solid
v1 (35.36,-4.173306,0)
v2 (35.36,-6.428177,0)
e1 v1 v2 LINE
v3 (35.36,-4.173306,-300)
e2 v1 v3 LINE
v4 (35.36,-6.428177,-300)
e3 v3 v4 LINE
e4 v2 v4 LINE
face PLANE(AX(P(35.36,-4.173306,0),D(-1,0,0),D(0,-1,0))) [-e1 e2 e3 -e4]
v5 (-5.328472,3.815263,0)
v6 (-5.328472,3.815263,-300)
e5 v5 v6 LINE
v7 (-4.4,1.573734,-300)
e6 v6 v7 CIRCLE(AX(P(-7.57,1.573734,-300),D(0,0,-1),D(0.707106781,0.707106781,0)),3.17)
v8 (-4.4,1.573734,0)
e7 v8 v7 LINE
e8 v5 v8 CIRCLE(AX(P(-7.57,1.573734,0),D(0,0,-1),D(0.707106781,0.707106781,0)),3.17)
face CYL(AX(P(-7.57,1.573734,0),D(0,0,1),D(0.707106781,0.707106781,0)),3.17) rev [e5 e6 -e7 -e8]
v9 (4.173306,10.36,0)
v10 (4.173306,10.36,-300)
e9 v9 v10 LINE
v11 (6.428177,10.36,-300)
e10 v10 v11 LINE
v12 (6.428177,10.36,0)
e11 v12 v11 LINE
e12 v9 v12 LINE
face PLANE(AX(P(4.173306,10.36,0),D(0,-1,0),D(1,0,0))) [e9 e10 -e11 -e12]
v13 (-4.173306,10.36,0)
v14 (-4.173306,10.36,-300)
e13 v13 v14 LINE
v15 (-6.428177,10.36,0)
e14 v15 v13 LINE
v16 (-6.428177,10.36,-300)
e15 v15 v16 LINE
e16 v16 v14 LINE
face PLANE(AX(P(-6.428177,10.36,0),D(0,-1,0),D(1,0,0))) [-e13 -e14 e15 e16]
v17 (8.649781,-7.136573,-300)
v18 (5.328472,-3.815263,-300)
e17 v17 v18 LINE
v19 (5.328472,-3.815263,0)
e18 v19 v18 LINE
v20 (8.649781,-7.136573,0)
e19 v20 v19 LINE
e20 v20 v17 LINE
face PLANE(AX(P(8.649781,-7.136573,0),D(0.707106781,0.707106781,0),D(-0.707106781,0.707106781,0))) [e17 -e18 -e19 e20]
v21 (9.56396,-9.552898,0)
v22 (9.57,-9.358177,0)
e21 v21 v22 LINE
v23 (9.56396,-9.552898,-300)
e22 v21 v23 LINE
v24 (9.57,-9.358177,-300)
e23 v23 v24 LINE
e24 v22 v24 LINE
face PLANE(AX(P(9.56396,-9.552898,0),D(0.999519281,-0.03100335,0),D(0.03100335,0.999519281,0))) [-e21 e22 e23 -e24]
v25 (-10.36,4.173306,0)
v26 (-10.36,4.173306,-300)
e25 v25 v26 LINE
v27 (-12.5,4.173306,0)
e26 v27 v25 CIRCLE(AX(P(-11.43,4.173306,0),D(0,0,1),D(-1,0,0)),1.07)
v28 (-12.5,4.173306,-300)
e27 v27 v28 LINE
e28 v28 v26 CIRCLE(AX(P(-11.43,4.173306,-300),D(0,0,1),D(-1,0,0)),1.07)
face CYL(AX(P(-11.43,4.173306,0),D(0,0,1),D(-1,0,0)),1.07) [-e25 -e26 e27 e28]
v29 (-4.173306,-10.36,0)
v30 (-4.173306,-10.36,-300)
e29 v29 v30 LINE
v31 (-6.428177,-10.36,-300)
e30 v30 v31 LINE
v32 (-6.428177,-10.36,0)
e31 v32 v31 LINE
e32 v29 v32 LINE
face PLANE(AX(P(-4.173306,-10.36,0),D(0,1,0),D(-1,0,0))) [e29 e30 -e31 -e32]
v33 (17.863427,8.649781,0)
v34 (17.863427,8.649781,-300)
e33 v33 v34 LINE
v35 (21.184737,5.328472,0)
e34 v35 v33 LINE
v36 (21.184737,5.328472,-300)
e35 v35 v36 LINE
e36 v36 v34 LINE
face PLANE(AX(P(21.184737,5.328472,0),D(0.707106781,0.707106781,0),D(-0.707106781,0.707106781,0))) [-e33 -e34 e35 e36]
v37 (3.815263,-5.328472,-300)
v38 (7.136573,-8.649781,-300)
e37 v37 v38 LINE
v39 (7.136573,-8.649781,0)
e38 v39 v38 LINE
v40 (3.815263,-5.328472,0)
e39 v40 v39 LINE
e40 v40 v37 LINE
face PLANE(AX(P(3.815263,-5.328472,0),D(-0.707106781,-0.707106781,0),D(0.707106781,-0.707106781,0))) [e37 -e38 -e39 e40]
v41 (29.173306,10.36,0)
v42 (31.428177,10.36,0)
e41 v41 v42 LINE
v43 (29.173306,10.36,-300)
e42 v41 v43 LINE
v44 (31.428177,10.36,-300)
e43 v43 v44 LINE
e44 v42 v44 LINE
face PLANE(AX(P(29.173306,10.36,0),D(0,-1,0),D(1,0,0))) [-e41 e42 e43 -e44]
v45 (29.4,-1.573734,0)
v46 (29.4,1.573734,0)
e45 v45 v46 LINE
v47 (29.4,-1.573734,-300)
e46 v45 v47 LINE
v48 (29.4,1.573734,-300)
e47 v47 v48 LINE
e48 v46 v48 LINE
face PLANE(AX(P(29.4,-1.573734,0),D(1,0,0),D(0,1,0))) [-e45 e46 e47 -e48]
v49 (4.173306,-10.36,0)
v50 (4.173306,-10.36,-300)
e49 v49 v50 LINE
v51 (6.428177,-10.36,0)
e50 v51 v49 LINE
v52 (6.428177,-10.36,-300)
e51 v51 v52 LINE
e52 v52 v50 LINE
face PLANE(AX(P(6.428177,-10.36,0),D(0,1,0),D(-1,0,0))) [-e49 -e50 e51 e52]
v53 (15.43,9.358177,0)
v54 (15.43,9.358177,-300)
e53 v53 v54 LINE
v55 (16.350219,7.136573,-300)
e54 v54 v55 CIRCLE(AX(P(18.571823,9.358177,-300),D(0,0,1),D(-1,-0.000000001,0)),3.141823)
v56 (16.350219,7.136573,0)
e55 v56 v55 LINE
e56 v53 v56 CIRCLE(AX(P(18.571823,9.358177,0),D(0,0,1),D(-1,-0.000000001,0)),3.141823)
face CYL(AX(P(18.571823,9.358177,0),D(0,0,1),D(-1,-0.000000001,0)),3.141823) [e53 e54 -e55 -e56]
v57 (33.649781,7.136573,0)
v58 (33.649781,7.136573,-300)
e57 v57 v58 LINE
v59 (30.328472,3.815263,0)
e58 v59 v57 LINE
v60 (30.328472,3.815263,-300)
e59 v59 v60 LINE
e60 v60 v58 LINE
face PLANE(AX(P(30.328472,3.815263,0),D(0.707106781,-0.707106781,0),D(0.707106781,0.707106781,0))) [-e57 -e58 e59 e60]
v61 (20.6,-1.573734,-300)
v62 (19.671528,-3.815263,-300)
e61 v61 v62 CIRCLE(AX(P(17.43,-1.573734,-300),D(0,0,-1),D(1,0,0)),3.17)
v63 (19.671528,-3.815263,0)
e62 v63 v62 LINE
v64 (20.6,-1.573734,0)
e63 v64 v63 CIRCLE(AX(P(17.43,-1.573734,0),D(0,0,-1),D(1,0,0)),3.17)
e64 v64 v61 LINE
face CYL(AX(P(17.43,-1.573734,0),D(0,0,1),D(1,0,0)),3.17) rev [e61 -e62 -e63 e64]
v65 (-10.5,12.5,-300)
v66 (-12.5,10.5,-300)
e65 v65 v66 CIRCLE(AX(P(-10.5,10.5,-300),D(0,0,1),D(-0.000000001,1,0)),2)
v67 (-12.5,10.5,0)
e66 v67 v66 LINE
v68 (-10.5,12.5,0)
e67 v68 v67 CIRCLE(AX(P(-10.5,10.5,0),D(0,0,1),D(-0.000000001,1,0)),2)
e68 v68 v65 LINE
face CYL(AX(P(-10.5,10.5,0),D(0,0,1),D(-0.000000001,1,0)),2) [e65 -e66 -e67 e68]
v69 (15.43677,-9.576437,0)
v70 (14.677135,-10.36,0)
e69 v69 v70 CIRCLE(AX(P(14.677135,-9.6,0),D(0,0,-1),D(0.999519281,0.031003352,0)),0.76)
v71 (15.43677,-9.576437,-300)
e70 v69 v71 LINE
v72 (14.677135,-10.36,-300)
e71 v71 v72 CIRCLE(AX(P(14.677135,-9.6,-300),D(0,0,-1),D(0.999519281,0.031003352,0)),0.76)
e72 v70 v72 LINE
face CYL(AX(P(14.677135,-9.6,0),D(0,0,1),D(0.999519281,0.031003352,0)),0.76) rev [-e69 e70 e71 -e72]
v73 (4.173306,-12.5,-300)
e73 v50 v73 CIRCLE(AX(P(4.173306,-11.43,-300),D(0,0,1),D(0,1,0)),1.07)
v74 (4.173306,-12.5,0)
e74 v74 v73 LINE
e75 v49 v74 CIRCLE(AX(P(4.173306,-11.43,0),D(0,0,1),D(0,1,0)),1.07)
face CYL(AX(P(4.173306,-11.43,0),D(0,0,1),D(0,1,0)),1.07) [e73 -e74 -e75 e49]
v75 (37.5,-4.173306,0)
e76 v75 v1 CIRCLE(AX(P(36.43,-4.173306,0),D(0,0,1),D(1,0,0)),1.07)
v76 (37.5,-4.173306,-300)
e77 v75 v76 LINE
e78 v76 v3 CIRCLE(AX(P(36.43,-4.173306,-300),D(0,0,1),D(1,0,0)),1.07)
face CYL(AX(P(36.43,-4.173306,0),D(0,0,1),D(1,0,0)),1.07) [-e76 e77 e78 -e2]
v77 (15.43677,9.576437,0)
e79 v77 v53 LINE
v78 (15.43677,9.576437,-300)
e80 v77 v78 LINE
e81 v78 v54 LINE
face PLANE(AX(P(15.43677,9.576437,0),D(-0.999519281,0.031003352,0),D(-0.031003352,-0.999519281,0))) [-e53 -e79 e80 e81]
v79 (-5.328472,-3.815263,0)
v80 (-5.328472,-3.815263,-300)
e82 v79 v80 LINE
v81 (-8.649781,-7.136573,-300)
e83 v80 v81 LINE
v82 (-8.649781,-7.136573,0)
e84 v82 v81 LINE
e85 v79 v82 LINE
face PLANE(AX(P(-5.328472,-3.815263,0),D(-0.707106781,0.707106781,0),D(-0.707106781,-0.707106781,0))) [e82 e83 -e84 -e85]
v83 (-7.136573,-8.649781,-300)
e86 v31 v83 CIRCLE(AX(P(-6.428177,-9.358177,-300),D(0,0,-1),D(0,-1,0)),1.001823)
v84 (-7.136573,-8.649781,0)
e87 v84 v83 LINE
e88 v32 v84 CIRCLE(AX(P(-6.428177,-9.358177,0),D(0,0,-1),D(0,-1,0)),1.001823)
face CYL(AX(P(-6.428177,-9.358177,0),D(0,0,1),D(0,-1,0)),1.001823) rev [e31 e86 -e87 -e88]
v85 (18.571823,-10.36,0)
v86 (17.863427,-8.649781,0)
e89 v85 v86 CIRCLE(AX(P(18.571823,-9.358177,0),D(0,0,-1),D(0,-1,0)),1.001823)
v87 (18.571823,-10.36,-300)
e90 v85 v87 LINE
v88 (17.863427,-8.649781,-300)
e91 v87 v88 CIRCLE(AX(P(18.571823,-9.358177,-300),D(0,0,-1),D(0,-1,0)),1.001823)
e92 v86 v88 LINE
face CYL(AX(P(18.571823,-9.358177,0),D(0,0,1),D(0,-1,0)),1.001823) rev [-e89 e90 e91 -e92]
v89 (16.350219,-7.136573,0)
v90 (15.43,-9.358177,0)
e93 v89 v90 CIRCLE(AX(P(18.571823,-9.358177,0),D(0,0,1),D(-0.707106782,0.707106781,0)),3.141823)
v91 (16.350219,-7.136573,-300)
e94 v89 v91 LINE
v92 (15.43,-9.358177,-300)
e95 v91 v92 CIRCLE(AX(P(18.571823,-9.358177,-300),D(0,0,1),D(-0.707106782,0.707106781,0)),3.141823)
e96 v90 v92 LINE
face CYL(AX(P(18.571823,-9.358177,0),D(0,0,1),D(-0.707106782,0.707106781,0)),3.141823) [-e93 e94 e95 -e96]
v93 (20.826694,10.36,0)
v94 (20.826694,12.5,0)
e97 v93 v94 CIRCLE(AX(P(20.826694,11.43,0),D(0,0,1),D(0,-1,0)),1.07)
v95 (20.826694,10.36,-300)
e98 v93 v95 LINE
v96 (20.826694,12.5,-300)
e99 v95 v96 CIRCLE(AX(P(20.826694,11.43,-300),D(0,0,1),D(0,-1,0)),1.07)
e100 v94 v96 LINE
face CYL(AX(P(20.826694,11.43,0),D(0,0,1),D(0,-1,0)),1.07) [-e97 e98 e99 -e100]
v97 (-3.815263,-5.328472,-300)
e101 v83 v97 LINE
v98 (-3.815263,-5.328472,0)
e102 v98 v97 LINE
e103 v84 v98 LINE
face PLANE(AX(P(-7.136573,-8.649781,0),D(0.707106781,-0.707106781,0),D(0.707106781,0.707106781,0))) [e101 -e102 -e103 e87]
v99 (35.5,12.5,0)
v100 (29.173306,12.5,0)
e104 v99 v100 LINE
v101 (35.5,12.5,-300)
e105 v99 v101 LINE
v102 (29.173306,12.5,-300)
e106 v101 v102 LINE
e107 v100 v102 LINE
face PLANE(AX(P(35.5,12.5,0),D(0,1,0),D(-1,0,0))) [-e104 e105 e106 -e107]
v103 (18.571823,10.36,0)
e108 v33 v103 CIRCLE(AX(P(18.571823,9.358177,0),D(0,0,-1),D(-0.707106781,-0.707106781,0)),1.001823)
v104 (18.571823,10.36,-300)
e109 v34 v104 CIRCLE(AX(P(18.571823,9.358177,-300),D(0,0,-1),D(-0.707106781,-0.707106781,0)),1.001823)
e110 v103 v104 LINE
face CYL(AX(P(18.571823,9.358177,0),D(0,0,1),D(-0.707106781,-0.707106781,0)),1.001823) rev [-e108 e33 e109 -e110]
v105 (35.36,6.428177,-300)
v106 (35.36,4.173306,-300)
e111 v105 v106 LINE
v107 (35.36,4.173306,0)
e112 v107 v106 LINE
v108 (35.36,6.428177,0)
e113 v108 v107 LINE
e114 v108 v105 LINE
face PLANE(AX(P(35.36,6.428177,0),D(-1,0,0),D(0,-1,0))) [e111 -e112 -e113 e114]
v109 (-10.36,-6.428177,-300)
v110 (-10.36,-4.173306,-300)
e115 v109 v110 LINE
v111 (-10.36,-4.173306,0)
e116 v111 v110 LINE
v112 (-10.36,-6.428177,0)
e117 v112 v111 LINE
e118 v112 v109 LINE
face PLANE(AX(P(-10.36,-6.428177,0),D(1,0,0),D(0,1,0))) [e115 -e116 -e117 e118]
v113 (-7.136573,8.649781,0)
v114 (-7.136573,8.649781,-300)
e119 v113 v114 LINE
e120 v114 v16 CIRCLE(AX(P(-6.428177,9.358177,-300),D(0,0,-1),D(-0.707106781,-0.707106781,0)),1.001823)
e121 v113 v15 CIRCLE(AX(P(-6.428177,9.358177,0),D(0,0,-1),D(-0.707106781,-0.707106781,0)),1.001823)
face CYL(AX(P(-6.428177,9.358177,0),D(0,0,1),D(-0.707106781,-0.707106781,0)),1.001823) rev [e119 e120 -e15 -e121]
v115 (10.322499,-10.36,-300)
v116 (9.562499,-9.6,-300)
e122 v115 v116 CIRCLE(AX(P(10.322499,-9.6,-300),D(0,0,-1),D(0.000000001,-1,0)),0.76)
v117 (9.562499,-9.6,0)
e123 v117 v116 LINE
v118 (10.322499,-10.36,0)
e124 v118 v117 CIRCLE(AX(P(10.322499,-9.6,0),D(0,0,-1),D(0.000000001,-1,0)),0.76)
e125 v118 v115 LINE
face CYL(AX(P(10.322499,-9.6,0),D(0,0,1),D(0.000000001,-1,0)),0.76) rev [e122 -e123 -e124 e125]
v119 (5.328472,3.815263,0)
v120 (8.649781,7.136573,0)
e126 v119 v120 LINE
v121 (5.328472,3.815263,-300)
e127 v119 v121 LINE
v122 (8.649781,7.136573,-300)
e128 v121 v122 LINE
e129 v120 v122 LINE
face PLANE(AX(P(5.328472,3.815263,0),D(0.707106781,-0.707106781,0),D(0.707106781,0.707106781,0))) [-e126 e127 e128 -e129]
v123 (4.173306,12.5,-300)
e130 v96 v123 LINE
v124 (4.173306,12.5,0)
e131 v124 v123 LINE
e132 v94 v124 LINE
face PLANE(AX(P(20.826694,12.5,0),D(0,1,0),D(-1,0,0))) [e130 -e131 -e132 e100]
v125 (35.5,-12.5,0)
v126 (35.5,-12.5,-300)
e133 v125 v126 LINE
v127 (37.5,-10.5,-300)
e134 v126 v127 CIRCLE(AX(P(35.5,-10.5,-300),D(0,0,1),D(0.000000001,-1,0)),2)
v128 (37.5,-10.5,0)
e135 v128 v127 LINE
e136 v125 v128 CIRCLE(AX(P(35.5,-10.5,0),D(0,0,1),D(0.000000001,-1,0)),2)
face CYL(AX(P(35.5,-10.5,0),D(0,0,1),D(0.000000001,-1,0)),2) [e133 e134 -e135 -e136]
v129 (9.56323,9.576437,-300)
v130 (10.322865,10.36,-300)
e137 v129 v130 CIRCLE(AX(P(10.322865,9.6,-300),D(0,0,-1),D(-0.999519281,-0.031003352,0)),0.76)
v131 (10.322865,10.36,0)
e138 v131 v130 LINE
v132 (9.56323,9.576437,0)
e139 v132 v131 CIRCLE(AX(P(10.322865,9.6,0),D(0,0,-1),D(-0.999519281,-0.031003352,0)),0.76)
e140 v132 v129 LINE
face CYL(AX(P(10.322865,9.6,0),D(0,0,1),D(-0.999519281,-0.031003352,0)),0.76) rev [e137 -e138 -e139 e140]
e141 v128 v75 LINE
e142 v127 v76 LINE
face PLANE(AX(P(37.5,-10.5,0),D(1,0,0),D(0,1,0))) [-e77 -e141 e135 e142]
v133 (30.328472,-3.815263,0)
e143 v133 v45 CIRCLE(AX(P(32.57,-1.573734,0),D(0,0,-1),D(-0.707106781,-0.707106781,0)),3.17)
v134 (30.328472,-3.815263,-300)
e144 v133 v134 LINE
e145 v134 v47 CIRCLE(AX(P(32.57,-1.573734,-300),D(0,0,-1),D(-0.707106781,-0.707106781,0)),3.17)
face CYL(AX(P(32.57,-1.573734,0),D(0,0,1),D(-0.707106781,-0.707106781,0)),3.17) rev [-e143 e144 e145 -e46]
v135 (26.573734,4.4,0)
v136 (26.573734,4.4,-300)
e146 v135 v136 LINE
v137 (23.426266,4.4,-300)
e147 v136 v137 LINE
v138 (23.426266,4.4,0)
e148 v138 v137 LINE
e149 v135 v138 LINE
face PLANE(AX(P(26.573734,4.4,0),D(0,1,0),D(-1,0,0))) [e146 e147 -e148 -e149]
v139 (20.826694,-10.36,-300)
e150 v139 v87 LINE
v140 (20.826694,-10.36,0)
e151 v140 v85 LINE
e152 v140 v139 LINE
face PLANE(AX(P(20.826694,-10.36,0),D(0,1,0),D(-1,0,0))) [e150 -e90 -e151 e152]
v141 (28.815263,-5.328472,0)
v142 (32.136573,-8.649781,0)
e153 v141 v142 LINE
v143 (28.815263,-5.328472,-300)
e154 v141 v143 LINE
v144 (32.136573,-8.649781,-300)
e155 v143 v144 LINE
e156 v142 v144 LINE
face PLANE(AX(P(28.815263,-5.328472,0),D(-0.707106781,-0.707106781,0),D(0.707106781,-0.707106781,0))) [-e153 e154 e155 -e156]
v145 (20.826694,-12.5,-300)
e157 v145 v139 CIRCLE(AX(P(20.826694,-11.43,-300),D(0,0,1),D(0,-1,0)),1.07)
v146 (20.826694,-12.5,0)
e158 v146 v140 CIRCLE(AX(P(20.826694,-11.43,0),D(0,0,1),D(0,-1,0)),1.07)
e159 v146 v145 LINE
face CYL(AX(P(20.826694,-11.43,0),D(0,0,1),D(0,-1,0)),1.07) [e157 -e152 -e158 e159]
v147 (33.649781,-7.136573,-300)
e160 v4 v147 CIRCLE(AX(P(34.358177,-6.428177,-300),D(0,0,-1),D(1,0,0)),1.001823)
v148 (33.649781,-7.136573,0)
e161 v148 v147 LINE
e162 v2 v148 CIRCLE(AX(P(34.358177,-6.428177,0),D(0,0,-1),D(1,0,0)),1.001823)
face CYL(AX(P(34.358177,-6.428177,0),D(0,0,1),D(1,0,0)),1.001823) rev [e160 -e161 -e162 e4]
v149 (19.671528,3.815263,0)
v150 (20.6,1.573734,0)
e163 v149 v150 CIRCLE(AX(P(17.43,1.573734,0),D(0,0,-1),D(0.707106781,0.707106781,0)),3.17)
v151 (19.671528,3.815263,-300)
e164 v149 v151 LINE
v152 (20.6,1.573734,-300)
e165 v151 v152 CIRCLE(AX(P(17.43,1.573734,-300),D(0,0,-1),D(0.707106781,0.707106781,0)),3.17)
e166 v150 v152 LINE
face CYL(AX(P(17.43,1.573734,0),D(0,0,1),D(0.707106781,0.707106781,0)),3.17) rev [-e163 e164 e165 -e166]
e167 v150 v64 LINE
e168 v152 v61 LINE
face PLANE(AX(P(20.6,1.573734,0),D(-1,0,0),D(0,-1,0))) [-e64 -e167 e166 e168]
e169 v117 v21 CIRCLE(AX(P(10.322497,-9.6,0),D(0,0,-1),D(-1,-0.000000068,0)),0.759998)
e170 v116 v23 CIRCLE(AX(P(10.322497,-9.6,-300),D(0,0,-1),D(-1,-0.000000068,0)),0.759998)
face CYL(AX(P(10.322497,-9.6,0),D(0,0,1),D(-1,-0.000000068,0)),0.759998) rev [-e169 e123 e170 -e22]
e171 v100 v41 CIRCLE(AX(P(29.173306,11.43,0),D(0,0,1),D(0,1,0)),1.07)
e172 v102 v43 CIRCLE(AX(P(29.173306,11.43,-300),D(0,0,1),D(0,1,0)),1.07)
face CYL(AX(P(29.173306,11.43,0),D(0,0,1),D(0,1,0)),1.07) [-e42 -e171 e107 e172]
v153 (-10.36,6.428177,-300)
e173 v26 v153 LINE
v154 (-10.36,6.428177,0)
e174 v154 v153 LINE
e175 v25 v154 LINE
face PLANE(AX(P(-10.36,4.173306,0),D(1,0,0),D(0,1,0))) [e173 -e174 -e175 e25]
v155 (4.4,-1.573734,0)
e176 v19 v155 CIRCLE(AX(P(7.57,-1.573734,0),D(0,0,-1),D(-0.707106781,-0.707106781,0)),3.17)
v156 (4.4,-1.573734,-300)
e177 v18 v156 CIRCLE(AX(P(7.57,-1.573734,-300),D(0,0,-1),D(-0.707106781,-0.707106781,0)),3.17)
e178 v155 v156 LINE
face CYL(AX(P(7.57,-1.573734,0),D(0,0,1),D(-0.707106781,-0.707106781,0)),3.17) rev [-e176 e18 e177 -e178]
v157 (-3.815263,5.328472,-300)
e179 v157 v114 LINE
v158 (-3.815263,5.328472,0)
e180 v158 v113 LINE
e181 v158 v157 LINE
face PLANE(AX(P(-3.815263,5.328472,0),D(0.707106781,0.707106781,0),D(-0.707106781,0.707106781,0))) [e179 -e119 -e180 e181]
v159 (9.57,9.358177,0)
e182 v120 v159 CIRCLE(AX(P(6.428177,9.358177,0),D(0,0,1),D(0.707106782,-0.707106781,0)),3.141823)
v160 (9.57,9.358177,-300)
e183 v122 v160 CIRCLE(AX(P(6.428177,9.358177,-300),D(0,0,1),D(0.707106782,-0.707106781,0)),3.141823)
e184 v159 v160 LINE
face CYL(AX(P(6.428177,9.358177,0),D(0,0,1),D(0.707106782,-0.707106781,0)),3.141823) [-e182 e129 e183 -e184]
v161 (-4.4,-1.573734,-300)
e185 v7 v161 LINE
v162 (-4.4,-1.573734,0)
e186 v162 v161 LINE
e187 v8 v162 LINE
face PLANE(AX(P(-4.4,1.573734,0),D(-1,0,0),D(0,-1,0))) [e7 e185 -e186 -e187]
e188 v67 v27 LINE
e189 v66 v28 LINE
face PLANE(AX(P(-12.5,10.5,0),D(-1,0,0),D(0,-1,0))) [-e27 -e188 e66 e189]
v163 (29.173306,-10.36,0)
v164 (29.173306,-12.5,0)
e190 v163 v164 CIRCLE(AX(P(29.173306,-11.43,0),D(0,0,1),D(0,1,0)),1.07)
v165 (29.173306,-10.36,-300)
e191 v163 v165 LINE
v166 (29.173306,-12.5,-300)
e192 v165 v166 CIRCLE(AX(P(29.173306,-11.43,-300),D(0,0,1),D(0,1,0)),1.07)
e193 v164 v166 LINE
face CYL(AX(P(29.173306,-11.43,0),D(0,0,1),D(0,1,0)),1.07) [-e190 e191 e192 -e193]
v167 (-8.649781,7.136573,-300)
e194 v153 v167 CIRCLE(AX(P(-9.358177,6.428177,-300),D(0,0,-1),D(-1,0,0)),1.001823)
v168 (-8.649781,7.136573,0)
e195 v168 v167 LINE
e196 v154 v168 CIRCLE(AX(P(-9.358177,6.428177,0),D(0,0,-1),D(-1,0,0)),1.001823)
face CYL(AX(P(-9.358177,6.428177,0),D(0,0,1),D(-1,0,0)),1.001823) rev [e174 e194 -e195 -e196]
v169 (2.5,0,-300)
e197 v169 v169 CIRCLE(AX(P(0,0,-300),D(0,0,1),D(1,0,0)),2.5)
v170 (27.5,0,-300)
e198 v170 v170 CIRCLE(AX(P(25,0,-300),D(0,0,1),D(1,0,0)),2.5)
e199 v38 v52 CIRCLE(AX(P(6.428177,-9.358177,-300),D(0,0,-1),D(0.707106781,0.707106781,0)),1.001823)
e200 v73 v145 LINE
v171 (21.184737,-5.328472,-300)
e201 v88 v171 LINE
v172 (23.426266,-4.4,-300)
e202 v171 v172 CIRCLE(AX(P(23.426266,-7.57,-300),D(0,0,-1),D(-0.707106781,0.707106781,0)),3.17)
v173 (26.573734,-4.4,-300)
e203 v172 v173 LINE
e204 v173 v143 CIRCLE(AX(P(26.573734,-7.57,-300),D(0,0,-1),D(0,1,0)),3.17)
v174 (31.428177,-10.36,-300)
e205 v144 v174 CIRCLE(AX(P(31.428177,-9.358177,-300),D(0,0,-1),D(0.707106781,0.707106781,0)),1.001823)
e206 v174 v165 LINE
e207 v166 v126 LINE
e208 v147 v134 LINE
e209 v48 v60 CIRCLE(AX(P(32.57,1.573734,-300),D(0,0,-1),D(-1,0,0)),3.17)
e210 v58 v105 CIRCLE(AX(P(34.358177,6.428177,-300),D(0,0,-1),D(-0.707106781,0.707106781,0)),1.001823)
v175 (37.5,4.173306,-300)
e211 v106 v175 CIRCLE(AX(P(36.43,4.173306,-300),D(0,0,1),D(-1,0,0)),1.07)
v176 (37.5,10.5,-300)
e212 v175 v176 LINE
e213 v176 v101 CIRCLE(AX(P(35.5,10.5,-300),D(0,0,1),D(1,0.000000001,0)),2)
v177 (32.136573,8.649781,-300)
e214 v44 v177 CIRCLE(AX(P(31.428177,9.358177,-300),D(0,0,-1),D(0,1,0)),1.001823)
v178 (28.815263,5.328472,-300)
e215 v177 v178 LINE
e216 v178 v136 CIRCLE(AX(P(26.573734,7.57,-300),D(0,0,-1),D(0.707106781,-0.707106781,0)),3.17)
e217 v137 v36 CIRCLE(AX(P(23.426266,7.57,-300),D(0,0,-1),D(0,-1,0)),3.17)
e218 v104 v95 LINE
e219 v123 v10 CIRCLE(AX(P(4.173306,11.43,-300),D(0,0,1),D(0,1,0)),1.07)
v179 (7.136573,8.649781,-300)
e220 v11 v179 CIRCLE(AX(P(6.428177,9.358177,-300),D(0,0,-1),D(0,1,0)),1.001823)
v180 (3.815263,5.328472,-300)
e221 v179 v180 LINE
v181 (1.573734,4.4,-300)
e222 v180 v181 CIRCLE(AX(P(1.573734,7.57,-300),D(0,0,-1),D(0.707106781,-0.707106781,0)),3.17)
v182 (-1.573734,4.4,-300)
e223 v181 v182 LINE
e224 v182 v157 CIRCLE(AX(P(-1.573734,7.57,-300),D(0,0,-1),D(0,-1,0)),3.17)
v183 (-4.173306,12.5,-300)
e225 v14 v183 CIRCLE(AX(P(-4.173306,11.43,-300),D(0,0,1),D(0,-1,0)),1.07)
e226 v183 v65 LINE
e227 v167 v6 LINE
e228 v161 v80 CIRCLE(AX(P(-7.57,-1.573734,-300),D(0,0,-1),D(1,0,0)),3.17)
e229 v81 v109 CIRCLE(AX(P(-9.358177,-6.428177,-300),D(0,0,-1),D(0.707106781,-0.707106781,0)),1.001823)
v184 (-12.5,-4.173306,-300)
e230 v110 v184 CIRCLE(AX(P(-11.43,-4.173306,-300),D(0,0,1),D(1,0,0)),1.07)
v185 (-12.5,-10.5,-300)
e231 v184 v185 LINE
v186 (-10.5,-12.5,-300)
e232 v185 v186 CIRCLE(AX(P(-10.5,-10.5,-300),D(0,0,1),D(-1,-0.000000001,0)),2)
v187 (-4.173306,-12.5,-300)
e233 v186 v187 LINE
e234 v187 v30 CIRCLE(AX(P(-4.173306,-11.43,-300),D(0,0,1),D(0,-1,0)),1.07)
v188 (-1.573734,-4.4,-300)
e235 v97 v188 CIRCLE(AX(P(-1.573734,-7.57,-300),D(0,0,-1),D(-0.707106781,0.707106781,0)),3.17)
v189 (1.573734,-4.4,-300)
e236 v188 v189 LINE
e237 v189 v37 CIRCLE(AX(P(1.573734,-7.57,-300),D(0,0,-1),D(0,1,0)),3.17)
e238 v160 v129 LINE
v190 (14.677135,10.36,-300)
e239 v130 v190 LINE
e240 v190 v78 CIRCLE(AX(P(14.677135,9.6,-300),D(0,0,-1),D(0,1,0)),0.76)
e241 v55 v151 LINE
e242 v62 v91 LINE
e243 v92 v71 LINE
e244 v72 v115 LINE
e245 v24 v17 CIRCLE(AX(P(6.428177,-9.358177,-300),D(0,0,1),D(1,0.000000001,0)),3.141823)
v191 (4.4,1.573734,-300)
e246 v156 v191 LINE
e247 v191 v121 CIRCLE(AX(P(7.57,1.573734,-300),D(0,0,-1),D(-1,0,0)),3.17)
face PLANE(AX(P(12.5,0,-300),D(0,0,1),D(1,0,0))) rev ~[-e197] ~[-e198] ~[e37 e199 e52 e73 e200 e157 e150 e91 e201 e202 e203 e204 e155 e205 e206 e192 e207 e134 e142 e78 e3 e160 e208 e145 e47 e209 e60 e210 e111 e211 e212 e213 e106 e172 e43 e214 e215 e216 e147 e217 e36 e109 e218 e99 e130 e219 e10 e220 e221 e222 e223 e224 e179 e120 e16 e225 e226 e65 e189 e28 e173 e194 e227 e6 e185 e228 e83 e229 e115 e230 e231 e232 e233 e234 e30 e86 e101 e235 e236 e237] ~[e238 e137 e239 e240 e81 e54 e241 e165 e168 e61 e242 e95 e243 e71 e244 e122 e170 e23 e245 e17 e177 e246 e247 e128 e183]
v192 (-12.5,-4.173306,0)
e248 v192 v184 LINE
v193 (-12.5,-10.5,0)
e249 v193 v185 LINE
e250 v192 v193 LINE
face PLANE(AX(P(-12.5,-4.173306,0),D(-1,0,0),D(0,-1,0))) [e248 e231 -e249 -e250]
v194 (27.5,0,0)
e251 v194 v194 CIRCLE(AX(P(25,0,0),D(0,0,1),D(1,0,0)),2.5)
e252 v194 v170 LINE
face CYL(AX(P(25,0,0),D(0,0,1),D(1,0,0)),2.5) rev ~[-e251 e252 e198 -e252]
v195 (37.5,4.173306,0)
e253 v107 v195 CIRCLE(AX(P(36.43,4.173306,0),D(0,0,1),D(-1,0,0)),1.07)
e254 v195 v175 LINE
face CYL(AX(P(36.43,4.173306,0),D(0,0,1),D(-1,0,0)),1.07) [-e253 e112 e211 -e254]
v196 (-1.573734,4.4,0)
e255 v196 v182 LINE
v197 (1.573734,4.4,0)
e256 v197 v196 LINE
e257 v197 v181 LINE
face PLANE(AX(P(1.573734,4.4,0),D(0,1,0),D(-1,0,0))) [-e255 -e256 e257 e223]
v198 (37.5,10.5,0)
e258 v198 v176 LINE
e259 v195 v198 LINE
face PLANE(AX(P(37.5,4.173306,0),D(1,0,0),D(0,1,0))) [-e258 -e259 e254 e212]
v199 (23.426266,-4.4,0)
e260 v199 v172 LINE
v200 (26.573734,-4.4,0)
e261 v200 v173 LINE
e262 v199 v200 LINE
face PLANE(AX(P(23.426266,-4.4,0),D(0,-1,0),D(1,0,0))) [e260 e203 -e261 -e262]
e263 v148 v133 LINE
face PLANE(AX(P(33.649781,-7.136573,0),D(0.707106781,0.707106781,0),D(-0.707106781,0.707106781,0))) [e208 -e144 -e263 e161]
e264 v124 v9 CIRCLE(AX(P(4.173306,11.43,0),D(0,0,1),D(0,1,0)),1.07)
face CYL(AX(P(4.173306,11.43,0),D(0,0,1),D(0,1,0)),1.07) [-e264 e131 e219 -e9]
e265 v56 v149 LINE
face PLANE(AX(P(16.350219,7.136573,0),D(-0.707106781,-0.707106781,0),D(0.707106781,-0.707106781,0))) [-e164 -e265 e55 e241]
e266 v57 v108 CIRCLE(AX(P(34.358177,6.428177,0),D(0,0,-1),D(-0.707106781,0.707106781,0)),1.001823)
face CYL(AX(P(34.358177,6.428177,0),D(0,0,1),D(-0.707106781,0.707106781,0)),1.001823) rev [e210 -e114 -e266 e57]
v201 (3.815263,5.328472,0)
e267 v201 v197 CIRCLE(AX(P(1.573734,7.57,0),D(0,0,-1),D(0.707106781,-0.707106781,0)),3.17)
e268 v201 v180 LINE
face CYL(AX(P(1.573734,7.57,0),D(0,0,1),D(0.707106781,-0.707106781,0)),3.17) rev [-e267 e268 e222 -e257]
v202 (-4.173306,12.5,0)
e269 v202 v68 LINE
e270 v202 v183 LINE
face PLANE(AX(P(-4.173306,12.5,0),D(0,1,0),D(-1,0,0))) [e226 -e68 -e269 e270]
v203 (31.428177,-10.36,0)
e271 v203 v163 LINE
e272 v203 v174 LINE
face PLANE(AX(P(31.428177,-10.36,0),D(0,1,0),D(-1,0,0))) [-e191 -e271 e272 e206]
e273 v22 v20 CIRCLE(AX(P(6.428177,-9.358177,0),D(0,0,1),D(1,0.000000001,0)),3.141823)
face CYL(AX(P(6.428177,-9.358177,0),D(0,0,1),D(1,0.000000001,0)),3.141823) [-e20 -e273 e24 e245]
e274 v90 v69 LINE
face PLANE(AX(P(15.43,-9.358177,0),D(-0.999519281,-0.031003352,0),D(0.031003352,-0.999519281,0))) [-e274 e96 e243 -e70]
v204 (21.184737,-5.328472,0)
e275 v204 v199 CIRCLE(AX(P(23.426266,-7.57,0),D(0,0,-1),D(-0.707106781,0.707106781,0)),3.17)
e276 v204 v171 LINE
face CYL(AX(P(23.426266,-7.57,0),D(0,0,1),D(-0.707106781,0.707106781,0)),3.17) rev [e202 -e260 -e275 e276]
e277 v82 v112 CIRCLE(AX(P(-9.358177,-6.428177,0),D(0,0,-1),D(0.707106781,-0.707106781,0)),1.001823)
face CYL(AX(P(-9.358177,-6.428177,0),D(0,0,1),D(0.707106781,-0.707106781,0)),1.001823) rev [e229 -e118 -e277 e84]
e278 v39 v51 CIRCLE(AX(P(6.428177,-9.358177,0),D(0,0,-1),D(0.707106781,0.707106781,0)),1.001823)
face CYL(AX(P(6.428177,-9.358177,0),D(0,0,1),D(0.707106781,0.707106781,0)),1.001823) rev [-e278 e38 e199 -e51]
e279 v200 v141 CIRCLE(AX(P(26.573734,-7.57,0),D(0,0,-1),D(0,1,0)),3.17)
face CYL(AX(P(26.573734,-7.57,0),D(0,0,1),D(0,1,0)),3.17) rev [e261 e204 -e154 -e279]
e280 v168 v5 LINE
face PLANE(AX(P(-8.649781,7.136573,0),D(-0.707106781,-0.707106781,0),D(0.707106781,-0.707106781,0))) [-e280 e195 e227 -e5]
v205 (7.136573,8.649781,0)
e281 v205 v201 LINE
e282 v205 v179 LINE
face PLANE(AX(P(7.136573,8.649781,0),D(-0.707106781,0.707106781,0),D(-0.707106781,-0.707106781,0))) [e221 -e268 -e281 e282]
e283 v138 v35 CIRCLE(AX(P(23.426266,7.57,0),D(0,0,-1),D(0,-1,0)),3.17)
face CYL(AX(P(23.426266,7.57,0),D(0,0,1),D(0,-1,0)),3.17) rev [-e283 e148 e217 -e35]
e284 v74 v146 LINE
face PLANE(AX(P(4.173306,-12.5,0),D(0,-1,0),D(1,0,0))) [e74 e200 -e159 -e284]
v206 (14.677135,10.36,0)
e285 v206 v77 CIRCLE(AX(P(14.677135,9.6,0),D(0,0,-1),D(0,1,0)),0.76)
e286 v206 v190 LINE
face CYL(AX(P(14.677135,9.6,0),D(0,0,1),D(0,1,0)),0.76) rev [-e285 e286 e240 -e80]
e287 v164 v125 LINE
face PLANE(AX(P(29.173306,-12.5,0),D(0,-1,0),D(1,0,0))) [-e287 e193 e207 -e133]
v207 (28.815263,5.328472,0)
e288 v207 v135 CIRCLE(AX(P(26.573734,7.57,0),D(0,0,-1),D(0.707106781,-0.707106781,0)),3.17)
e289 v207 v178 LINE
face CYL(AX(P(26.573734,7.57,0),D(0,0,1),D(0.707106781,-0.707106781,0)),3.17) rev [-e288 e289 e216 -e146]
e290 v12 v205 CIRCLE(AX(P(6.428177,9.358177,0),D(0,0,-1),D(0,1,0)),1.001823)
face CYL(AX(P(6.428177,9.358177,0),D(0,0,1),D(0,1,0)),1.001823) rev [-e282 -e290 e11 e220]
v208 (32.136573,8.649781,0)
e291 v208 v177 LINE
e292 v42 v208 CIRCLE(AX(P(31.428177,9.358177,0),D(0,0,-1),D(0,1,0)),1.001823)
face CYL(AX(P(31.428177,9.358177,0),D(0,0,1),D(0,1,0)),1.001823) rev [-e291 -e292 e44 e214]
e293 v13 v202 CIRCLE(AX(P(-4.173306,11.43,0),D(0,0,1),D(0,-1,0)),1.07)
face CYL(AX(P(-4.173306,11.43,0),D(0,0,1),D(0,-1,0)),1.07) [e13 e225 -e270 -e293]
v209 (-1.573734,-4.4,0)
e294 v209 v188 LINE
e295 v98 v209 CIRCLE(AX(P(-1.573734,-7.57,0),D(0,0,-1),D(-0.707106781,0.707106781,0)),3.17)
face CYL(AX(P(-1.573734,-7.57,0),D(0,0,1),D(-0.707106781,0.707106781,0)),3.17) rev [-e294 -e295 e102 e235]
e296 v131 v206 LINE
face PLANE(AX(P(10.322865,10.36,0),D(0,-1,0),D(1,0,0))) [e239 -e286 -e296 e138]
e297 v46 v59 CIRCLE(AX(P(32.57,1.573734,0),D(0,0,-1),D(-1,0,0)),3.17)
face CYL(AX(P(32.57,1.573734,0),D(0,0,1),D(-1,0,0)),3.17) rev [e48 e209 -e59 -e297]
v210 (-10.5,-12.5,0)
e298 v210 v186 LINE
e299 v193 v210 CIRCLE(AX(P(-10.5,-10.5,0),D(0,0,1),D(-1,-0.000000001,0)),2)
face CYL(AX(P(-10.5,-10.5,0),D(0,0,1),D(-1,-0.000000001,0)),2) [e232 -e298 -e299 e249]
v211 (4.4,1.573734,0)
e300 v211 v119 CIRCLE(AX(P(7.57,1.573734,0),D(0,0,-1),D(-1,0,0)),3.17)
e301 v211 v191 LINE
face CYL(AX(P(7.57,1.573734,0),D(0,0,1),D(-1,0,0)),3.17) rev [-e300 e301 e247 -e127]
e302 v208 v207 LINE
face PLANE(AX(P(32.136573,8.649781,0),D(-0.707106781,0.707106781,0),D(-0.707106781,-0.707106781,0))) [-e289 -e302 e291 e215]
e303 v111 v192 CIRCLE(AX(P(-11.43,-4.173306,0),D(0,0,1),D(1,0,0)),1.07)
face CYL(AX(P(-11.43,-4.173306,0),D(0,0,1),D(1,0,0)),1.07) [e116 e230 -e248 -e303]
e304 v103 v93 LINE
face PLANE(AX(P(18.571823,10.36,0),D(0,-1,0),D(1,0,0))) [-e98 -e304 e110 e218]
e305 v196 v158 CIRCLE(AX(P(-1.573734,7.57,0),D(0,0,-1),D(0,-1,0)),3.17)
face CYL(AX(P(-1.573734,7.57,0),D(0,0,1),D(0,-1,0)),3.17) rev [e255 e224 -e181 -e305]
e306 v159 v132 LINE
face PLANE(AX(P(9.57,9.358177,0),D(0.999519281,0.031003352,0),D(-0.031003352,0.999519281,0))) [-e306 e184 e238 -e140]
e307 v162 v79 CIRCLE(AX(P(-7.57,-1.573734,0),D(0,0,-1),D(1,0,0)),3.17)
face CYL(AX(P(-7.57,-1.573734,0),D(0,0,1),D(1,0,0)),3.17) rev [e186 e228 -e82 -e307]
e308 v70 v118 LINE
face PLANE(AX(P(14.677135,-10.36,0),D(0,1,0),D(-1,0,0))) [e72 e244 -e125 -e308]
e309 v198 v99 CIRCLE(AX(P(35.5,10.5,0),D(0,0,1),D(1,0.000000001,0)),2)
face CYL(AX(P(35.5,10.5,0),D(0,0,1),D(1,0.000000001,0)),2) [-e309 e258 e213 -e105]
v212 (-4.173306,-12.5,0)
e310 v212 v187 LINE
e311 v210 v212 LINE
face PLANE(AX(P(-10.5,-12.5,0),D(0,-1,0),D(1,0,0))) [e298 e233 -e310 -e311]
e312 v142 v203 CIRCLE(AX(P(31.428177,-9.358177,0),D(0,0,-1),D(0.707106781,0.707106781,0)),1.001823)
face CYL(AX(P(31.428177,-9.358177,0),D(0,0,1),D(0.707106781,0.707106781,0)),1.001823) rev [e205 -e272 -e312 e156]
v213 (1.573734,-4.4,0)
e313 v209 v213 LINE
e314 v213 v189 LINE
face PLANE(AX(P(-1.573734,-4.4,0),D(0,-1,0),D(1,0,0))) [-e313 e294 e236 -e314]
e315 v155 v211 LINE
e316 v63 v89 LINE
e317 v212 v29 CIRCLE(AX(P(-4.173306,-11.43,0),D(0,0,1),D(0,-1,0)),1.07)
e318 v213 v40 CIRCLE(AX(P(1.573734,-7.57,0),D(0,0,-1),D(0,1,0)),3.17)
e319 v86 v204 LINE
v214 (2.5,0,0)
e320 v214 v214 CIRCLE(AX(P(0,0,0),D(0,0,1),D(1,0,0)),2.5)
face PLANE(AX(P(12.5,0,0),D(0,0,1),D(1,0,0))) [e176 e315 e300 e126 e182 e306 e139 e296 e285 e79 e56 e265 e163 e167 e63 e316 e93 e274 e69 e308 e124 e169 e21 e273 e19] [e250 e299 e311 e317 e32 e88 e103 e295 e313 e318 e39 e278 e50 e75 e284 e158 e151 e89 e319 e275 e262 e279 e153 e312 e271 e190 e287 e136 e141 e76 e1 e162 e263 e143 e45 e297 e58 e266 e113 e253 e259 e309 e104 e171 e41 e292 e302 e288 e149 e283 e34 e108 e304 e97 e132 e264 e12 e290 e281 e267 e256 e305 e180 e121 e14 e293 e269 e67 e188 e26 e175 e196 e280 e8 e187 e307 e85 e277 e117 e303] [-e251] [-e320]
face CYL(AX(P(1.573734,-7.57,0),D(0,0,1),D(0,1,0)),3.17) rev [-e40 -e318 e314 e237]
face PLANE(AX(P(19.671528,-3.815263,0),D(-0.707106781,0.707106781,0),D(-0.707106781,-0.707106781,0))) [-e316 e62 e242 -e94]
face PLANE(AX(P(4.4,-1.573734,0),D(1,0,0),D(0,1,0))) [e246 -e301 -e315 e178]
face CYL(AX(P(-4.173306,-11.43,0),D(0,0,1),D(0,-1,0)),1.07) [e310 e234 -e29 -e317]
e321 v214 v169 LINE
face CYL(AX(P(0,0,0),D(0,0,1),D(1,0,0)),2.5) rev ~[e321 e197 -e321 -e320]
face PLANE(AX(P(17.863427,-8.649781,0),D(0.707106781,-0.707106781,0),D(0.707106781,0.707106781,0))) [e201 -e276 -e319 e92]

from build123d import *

# Parameters (mm, degrees)
SKETCH1_R      = 2.5
EXTRUDE1_DEPTH = 300


with BuildPart() as part:
    # Sketch1 → Extrude1 (new body)
    with BuildSketch(Plane.XY):
        with BuildLine():
            ThreePointArc((-10.5, 12.5), (-11.914213562, 11.914213562), (-12.5, 10.5))
            Line((-12.5, 10.5), (-12.5, 4.173306336))
            ThreePointArc((-12.5, 4.173306336), (-11.43, 3.103306336), (-10.36, 4.173306336))
            Line((-10.36, 4.173306336), (-10.36, 6.428177131))
            ThreePointArc((-10.36, 6.428177131), (-9.741558145, 7.353740775), (-8.649781387, 7.136572875))
            Line((-8.649781387, 7.136572875), (-5.328471504, 3.815262992))
            ThreePointArc((-5.328471504, 3.815262992), (-4.641301882, 2.786840976), (-4.4, 1.573734496))
            Line((-4.4, 1.573734496), (-4.4, -1.573734496))
            ThreePointArc((-4.4, -1.573734496), (-4.641301882, -2.786840976), (-5.328471504, -3.815262992))
            Line((-5.328471504, -3.815262992), (-8.649781387, -7.136572875))
            ThreePointArc((-8.649781387, -7.136572875), (-9.741558145, -7.353740775), (-10.36, -6.428177131))
            Line((-10.36, -6.428177131), (-10.36, -4.173306336))
            ThreePointArc((-10.36, -4.173306336), (-11.43, -3.103306336), (-12.5, -4.173306336))
            Line((-12.5, -4.173306336), (-12.5, -10.5))
            ThreePointArc((-12.5, -10.5), (-11.914213562, -11.914213562), (-10.5, -12.5))
            Line((-10.5, -12.5), (-4.173306336, -12.5))
            ThreePointArc((-4.173306336, -12.5), (-3.103306336, -11.43), (-4.173306336, -10.36))
            Line((-4.173306336, -10.36), (-6.428177131, -10.36))
            ThreePointArc((-6.428177131, -10.36), (-7.353740775, -9.741558145), (-7.136572875, -8.649781387))
            Line((-7.136572875, -8.649781387), (-3.815262992, -5.328471504))
            ThreePointArc((-3.815262992, -5.328471504), (-2.786840976, -4.641301882), (-1.573734496, -4.4))
            Line((-1.573734496, -4.4), (1.573734496, -4.4))
            ThreePointArc((1.573734496, -4.4), (2.786840976, -4.641301882), (3.815262992, -5.328471504))
            Line((3.815262992, -5.328471504), (7.136572875, -8.649781387))
            ThreePointArc((7.136572875, -8.649781387), (7.353740775, -9.741558145), (6.428177131, -10.36))
            Line((6.428177131, -10.36), (4.173306336, -10.36))
            ThreePointArc((4.173306336, -10.36), (3.103306336, -11.43), (4.173306336, -12.5))
            Line((4.173306336, -12.5), (20.826693664, -12.5))
            ThreePointArc((20.826693664, -12.5), (21.896693664, -11.43), (20.826693664, -10.36))
            Line((20.826693664, -10.36), (18.571822869, -10.36))
            ThreePointArc((18.571822869, -10.36), (17.646259225, -9.741558145), (17.863427125, -8.649781387))
            Line((17.863427125, -8.649781387), (21.184737008, -5.328471504))
            ThreePointArc((21.184737008, -5.328471504), (22.213159024, -4.641301882), (23.426265504, -4.4))
            Line((23.426265504, -4.4), (26.573734496, -4.4))
            ThreePointArc((26.573734496, -4.4), (27.786840976, -4.641301882), (28.815262992, -5.328471504))
            Line((28.815262992, -5.328471504), (32.136572875, -8.649781387))
            ThreePointArc((32.136572875, -8.649781387), (32.353740775, -9.741558145), (31.428177131, -10.36))
            Line((31.428177131, -10.36), (29.173306336, -10.36))
            ThreePointArc((29.173306336, -10.36), (28.103306336, -11.43), (29.173306336, -12.5))
            Line((29.173306336, -12.5), (35.5, -12.5))
            ThreePointArc((35.5, -12.5), (36.914213562, -11.914213562), (37.5, -10.5))
            Line((37.5, -10.5), (37.5, -4.173306336))
            ThreePointArc((37.5, -4.173306336), (36.43, -3.103306336), (35.36, -4.173306336))
            Line((35.36, -4.173306336), (35.36, -6.428177131))
            ThreePointArc((35.36, -6.428177131), (34.741558145, -7.353740775), (33.649781387, -7.136572875))
            Line((33.649781387, -7.136572875), (30.328471504, -3.815262992))
            ThreePointArc((30.328471504, -3.815262992), (29.641301882, -2.786840976), (29.4, -1.573734496))
            Line((29.4, -1.573734496), (29.4, 1.573734496))
            ThreePointArc((29.4, 1.573734496), (29.641301882, 2.786840976), (30.328471504, 3.815262992))
            Line((30.328471504, 3.815262992), (33.649781387, 7.136572875))
            ThreePointArc((33.649781387, 7.136572875), (34.741558145, 7.353740775), (35.36, 6.428177131))
            Line((35.36, 6.428177131), (35.36, 4.173306336))
            ThreePointArc((35.36, 4.173306336), (36.43, 3.103306336), (37.5, 4.173306336))
            Line((37.5, 4.173306336), (37.5, 10.5))
            ThreePointArc((37.5, 10.5), (36.914213562, 11.914213562), (35.5, 12.5))
            Line((35.5, 12.5), (29.173306336, 12.5))
            ThreePointArc((29.173306336, 12.5), (28.103306336, 11.43), (29.173306336, 10.36))
            Line((29.173306336, 10.36), (31.428177131, 10.36))
            ThreePointArc((31.428177131, 10.36), (32.353740775, 9.741558145), (32.136572875, 8.649781387))
            Line((32.136572875, 8.649781387), (28.815262992, 5.328471504))
            ThreePointArc((28.815262992, 5.328471504), (27.786840976, 4.641301882), (26.573734496, 4.4))
            Line((26.573734496, 4.4), (23.426265504, 4.4))
            ThreePointArc((23.426265504, 4.4), (22.213159024, 4.641301882), (21.184737008, 5.328471504))
            Line((21.184737008, 5.328471504), (17.863427125, 8.649781387))
            ThreePointArc((17.863427125, 8.649781387), (17.646259225, 9.741558145), (18.571822869, 10.36))
            Line((18.571822869, 10.36), (20.826693664, 10.36))
            ThreePointArc((20.826693664, 10.36), (21.896693664, 11.43), (20.826693664, 12.5))
            Line((20.826693664, 12.5), (4.173306336, 12.5))
            ThreePointArc((4.173306336, 12.5), (3.103306336, 11.43), (4.173306336, 10.36))
            Line((4.173306336, 10.36), (6.428177131, 10.36))
            ThreePointArc((6.428177131, 10.36), (7.353740775, 9.741558145), (7.136572875, 8.649781387))
            Line((7.136572875, 8.649781387), (3.815262992, 5.328471504))
            ThreePointArc((3.815262992, 5.328471504), (2.786840976, 4.641301882), (1.573734496, 4.4))
            Line((1.573734496, 4.4), (-1.573734496, 4.4))
            ThreePointArc((-1.573734496, 4.4), (-2.786840976, 4.641301882), (-3.815262992, 5.328471504))
            Line((-3.815262992, 5.328471504), (-7.136572875, 8.649781387))
            ThreePointArc((-7.136572875, 8.649781387), (-7.353740775, 9.741558145), (-6.428177131, 10.36))
            Line((-6.428177131, 10.36), (-4.173306336, 10.36))
            ThreePointArc((-4.173306336, 10.36), (-3.103306336, 11.43), (-4.173306336, 12.5))
            Line((-4.173306336, 12.5), (-10.5, 12.5))
        make_face()
        Circle(SKETCH1_R, mode=Mode.SUBTRACT)
        with BuildLine():
            Line((9.563960111, -9.552897559), (9.57, -9.358177131))
            ThreePointArc((9.57, -9.358177131), (9.330842974, -8.155853572), (8.649781387, -7.136572875))
            Line((8.649781387, -7.136572875), (5.328471504, -3.815262992))
            ThreePointArc((5.328471504, -3.815262992), (4.641301882, -2.786840976), (4.4, -1.573734496))
            Line((4.4, -1.573734496), (4.4, 1.573734496))
            ThreePointArc((4.4, 1.573734496), (4.641301882, 2.786840976), (5.328471504, 3.815262992))
            Line((5.328471504, 3.815262992), (8.649781387, 7.136572875))
            ThreePointArc((8.649781387, 7.136572875), (9.330842974, 8.155853572), (9.57, 9.358177131))
            Line((9.57, 9.358177131), (9.563229944, 9.576437453))
            ThreePointArc((9.563229944, 9.576437453), (9.777196412, 10.129004945), (10.322864597, 10.36))
            Line((10.322864597, 10.36), (14.677135403, 10.36))
            ThreePointArc((14.677135403, 10.36), (15.222803588, 10.129004945), (15.436770056, 9.576437453))
            Line((15.436770056, 9.576437453), (15.43, 9.358177131))
            ThreePointArc((15.43, 9.358177131), (15.669157026, 8.155853572), (16.350218613, 7.136572875))
            Line((16.350218613, 7.136572875), (19.671528496, 3.815262992))
            ThreePointArc((19.671528496, 3.815262992), (20.358698118, 2.786840976), (20.6, 1.573734496))
            Line((20.6, 1.573734496), (20.6, -1.573734496))
            ThreePointArc((20.6, -1.573734496), (20.358698118, -2.786840976), (19.671528496, -3.815262992))
            Line((19.671528496, -3.815262992), (16.350218613, -7.136572875))
            ThreePointArc((16.350218613, -7.136572875), (15.669157026, -8.155853572), (15.43, -9.358177131))
            Line((15.43, -9.358177131), (15.436770056, -9.576437453))
            ThreePointArc((15.436770056, -9.576437453), (15.222803588, -10.129004945), (14.677135403, -10.36))
            Line((14.677135403, -10.36), (10.322499075, -10.36))
            ThreePointArc((10.322499075, -10.36), (9.785097921, -10.137401154), (9.562499075, -9.6))
            ThreePointArc((9.562499075, -9.6), (9.562864421, -9.576437453), (9.563960111, -9.552897559))
        make_face(mode=Mode.SUBTRACT)
        with Locations((25, 0)):
            Circle(SKETCH1_R, mode=Mode.SUBTRACT)
    extrude(amount=-EXTRUDE1_DEPTH)


solid = part.part
